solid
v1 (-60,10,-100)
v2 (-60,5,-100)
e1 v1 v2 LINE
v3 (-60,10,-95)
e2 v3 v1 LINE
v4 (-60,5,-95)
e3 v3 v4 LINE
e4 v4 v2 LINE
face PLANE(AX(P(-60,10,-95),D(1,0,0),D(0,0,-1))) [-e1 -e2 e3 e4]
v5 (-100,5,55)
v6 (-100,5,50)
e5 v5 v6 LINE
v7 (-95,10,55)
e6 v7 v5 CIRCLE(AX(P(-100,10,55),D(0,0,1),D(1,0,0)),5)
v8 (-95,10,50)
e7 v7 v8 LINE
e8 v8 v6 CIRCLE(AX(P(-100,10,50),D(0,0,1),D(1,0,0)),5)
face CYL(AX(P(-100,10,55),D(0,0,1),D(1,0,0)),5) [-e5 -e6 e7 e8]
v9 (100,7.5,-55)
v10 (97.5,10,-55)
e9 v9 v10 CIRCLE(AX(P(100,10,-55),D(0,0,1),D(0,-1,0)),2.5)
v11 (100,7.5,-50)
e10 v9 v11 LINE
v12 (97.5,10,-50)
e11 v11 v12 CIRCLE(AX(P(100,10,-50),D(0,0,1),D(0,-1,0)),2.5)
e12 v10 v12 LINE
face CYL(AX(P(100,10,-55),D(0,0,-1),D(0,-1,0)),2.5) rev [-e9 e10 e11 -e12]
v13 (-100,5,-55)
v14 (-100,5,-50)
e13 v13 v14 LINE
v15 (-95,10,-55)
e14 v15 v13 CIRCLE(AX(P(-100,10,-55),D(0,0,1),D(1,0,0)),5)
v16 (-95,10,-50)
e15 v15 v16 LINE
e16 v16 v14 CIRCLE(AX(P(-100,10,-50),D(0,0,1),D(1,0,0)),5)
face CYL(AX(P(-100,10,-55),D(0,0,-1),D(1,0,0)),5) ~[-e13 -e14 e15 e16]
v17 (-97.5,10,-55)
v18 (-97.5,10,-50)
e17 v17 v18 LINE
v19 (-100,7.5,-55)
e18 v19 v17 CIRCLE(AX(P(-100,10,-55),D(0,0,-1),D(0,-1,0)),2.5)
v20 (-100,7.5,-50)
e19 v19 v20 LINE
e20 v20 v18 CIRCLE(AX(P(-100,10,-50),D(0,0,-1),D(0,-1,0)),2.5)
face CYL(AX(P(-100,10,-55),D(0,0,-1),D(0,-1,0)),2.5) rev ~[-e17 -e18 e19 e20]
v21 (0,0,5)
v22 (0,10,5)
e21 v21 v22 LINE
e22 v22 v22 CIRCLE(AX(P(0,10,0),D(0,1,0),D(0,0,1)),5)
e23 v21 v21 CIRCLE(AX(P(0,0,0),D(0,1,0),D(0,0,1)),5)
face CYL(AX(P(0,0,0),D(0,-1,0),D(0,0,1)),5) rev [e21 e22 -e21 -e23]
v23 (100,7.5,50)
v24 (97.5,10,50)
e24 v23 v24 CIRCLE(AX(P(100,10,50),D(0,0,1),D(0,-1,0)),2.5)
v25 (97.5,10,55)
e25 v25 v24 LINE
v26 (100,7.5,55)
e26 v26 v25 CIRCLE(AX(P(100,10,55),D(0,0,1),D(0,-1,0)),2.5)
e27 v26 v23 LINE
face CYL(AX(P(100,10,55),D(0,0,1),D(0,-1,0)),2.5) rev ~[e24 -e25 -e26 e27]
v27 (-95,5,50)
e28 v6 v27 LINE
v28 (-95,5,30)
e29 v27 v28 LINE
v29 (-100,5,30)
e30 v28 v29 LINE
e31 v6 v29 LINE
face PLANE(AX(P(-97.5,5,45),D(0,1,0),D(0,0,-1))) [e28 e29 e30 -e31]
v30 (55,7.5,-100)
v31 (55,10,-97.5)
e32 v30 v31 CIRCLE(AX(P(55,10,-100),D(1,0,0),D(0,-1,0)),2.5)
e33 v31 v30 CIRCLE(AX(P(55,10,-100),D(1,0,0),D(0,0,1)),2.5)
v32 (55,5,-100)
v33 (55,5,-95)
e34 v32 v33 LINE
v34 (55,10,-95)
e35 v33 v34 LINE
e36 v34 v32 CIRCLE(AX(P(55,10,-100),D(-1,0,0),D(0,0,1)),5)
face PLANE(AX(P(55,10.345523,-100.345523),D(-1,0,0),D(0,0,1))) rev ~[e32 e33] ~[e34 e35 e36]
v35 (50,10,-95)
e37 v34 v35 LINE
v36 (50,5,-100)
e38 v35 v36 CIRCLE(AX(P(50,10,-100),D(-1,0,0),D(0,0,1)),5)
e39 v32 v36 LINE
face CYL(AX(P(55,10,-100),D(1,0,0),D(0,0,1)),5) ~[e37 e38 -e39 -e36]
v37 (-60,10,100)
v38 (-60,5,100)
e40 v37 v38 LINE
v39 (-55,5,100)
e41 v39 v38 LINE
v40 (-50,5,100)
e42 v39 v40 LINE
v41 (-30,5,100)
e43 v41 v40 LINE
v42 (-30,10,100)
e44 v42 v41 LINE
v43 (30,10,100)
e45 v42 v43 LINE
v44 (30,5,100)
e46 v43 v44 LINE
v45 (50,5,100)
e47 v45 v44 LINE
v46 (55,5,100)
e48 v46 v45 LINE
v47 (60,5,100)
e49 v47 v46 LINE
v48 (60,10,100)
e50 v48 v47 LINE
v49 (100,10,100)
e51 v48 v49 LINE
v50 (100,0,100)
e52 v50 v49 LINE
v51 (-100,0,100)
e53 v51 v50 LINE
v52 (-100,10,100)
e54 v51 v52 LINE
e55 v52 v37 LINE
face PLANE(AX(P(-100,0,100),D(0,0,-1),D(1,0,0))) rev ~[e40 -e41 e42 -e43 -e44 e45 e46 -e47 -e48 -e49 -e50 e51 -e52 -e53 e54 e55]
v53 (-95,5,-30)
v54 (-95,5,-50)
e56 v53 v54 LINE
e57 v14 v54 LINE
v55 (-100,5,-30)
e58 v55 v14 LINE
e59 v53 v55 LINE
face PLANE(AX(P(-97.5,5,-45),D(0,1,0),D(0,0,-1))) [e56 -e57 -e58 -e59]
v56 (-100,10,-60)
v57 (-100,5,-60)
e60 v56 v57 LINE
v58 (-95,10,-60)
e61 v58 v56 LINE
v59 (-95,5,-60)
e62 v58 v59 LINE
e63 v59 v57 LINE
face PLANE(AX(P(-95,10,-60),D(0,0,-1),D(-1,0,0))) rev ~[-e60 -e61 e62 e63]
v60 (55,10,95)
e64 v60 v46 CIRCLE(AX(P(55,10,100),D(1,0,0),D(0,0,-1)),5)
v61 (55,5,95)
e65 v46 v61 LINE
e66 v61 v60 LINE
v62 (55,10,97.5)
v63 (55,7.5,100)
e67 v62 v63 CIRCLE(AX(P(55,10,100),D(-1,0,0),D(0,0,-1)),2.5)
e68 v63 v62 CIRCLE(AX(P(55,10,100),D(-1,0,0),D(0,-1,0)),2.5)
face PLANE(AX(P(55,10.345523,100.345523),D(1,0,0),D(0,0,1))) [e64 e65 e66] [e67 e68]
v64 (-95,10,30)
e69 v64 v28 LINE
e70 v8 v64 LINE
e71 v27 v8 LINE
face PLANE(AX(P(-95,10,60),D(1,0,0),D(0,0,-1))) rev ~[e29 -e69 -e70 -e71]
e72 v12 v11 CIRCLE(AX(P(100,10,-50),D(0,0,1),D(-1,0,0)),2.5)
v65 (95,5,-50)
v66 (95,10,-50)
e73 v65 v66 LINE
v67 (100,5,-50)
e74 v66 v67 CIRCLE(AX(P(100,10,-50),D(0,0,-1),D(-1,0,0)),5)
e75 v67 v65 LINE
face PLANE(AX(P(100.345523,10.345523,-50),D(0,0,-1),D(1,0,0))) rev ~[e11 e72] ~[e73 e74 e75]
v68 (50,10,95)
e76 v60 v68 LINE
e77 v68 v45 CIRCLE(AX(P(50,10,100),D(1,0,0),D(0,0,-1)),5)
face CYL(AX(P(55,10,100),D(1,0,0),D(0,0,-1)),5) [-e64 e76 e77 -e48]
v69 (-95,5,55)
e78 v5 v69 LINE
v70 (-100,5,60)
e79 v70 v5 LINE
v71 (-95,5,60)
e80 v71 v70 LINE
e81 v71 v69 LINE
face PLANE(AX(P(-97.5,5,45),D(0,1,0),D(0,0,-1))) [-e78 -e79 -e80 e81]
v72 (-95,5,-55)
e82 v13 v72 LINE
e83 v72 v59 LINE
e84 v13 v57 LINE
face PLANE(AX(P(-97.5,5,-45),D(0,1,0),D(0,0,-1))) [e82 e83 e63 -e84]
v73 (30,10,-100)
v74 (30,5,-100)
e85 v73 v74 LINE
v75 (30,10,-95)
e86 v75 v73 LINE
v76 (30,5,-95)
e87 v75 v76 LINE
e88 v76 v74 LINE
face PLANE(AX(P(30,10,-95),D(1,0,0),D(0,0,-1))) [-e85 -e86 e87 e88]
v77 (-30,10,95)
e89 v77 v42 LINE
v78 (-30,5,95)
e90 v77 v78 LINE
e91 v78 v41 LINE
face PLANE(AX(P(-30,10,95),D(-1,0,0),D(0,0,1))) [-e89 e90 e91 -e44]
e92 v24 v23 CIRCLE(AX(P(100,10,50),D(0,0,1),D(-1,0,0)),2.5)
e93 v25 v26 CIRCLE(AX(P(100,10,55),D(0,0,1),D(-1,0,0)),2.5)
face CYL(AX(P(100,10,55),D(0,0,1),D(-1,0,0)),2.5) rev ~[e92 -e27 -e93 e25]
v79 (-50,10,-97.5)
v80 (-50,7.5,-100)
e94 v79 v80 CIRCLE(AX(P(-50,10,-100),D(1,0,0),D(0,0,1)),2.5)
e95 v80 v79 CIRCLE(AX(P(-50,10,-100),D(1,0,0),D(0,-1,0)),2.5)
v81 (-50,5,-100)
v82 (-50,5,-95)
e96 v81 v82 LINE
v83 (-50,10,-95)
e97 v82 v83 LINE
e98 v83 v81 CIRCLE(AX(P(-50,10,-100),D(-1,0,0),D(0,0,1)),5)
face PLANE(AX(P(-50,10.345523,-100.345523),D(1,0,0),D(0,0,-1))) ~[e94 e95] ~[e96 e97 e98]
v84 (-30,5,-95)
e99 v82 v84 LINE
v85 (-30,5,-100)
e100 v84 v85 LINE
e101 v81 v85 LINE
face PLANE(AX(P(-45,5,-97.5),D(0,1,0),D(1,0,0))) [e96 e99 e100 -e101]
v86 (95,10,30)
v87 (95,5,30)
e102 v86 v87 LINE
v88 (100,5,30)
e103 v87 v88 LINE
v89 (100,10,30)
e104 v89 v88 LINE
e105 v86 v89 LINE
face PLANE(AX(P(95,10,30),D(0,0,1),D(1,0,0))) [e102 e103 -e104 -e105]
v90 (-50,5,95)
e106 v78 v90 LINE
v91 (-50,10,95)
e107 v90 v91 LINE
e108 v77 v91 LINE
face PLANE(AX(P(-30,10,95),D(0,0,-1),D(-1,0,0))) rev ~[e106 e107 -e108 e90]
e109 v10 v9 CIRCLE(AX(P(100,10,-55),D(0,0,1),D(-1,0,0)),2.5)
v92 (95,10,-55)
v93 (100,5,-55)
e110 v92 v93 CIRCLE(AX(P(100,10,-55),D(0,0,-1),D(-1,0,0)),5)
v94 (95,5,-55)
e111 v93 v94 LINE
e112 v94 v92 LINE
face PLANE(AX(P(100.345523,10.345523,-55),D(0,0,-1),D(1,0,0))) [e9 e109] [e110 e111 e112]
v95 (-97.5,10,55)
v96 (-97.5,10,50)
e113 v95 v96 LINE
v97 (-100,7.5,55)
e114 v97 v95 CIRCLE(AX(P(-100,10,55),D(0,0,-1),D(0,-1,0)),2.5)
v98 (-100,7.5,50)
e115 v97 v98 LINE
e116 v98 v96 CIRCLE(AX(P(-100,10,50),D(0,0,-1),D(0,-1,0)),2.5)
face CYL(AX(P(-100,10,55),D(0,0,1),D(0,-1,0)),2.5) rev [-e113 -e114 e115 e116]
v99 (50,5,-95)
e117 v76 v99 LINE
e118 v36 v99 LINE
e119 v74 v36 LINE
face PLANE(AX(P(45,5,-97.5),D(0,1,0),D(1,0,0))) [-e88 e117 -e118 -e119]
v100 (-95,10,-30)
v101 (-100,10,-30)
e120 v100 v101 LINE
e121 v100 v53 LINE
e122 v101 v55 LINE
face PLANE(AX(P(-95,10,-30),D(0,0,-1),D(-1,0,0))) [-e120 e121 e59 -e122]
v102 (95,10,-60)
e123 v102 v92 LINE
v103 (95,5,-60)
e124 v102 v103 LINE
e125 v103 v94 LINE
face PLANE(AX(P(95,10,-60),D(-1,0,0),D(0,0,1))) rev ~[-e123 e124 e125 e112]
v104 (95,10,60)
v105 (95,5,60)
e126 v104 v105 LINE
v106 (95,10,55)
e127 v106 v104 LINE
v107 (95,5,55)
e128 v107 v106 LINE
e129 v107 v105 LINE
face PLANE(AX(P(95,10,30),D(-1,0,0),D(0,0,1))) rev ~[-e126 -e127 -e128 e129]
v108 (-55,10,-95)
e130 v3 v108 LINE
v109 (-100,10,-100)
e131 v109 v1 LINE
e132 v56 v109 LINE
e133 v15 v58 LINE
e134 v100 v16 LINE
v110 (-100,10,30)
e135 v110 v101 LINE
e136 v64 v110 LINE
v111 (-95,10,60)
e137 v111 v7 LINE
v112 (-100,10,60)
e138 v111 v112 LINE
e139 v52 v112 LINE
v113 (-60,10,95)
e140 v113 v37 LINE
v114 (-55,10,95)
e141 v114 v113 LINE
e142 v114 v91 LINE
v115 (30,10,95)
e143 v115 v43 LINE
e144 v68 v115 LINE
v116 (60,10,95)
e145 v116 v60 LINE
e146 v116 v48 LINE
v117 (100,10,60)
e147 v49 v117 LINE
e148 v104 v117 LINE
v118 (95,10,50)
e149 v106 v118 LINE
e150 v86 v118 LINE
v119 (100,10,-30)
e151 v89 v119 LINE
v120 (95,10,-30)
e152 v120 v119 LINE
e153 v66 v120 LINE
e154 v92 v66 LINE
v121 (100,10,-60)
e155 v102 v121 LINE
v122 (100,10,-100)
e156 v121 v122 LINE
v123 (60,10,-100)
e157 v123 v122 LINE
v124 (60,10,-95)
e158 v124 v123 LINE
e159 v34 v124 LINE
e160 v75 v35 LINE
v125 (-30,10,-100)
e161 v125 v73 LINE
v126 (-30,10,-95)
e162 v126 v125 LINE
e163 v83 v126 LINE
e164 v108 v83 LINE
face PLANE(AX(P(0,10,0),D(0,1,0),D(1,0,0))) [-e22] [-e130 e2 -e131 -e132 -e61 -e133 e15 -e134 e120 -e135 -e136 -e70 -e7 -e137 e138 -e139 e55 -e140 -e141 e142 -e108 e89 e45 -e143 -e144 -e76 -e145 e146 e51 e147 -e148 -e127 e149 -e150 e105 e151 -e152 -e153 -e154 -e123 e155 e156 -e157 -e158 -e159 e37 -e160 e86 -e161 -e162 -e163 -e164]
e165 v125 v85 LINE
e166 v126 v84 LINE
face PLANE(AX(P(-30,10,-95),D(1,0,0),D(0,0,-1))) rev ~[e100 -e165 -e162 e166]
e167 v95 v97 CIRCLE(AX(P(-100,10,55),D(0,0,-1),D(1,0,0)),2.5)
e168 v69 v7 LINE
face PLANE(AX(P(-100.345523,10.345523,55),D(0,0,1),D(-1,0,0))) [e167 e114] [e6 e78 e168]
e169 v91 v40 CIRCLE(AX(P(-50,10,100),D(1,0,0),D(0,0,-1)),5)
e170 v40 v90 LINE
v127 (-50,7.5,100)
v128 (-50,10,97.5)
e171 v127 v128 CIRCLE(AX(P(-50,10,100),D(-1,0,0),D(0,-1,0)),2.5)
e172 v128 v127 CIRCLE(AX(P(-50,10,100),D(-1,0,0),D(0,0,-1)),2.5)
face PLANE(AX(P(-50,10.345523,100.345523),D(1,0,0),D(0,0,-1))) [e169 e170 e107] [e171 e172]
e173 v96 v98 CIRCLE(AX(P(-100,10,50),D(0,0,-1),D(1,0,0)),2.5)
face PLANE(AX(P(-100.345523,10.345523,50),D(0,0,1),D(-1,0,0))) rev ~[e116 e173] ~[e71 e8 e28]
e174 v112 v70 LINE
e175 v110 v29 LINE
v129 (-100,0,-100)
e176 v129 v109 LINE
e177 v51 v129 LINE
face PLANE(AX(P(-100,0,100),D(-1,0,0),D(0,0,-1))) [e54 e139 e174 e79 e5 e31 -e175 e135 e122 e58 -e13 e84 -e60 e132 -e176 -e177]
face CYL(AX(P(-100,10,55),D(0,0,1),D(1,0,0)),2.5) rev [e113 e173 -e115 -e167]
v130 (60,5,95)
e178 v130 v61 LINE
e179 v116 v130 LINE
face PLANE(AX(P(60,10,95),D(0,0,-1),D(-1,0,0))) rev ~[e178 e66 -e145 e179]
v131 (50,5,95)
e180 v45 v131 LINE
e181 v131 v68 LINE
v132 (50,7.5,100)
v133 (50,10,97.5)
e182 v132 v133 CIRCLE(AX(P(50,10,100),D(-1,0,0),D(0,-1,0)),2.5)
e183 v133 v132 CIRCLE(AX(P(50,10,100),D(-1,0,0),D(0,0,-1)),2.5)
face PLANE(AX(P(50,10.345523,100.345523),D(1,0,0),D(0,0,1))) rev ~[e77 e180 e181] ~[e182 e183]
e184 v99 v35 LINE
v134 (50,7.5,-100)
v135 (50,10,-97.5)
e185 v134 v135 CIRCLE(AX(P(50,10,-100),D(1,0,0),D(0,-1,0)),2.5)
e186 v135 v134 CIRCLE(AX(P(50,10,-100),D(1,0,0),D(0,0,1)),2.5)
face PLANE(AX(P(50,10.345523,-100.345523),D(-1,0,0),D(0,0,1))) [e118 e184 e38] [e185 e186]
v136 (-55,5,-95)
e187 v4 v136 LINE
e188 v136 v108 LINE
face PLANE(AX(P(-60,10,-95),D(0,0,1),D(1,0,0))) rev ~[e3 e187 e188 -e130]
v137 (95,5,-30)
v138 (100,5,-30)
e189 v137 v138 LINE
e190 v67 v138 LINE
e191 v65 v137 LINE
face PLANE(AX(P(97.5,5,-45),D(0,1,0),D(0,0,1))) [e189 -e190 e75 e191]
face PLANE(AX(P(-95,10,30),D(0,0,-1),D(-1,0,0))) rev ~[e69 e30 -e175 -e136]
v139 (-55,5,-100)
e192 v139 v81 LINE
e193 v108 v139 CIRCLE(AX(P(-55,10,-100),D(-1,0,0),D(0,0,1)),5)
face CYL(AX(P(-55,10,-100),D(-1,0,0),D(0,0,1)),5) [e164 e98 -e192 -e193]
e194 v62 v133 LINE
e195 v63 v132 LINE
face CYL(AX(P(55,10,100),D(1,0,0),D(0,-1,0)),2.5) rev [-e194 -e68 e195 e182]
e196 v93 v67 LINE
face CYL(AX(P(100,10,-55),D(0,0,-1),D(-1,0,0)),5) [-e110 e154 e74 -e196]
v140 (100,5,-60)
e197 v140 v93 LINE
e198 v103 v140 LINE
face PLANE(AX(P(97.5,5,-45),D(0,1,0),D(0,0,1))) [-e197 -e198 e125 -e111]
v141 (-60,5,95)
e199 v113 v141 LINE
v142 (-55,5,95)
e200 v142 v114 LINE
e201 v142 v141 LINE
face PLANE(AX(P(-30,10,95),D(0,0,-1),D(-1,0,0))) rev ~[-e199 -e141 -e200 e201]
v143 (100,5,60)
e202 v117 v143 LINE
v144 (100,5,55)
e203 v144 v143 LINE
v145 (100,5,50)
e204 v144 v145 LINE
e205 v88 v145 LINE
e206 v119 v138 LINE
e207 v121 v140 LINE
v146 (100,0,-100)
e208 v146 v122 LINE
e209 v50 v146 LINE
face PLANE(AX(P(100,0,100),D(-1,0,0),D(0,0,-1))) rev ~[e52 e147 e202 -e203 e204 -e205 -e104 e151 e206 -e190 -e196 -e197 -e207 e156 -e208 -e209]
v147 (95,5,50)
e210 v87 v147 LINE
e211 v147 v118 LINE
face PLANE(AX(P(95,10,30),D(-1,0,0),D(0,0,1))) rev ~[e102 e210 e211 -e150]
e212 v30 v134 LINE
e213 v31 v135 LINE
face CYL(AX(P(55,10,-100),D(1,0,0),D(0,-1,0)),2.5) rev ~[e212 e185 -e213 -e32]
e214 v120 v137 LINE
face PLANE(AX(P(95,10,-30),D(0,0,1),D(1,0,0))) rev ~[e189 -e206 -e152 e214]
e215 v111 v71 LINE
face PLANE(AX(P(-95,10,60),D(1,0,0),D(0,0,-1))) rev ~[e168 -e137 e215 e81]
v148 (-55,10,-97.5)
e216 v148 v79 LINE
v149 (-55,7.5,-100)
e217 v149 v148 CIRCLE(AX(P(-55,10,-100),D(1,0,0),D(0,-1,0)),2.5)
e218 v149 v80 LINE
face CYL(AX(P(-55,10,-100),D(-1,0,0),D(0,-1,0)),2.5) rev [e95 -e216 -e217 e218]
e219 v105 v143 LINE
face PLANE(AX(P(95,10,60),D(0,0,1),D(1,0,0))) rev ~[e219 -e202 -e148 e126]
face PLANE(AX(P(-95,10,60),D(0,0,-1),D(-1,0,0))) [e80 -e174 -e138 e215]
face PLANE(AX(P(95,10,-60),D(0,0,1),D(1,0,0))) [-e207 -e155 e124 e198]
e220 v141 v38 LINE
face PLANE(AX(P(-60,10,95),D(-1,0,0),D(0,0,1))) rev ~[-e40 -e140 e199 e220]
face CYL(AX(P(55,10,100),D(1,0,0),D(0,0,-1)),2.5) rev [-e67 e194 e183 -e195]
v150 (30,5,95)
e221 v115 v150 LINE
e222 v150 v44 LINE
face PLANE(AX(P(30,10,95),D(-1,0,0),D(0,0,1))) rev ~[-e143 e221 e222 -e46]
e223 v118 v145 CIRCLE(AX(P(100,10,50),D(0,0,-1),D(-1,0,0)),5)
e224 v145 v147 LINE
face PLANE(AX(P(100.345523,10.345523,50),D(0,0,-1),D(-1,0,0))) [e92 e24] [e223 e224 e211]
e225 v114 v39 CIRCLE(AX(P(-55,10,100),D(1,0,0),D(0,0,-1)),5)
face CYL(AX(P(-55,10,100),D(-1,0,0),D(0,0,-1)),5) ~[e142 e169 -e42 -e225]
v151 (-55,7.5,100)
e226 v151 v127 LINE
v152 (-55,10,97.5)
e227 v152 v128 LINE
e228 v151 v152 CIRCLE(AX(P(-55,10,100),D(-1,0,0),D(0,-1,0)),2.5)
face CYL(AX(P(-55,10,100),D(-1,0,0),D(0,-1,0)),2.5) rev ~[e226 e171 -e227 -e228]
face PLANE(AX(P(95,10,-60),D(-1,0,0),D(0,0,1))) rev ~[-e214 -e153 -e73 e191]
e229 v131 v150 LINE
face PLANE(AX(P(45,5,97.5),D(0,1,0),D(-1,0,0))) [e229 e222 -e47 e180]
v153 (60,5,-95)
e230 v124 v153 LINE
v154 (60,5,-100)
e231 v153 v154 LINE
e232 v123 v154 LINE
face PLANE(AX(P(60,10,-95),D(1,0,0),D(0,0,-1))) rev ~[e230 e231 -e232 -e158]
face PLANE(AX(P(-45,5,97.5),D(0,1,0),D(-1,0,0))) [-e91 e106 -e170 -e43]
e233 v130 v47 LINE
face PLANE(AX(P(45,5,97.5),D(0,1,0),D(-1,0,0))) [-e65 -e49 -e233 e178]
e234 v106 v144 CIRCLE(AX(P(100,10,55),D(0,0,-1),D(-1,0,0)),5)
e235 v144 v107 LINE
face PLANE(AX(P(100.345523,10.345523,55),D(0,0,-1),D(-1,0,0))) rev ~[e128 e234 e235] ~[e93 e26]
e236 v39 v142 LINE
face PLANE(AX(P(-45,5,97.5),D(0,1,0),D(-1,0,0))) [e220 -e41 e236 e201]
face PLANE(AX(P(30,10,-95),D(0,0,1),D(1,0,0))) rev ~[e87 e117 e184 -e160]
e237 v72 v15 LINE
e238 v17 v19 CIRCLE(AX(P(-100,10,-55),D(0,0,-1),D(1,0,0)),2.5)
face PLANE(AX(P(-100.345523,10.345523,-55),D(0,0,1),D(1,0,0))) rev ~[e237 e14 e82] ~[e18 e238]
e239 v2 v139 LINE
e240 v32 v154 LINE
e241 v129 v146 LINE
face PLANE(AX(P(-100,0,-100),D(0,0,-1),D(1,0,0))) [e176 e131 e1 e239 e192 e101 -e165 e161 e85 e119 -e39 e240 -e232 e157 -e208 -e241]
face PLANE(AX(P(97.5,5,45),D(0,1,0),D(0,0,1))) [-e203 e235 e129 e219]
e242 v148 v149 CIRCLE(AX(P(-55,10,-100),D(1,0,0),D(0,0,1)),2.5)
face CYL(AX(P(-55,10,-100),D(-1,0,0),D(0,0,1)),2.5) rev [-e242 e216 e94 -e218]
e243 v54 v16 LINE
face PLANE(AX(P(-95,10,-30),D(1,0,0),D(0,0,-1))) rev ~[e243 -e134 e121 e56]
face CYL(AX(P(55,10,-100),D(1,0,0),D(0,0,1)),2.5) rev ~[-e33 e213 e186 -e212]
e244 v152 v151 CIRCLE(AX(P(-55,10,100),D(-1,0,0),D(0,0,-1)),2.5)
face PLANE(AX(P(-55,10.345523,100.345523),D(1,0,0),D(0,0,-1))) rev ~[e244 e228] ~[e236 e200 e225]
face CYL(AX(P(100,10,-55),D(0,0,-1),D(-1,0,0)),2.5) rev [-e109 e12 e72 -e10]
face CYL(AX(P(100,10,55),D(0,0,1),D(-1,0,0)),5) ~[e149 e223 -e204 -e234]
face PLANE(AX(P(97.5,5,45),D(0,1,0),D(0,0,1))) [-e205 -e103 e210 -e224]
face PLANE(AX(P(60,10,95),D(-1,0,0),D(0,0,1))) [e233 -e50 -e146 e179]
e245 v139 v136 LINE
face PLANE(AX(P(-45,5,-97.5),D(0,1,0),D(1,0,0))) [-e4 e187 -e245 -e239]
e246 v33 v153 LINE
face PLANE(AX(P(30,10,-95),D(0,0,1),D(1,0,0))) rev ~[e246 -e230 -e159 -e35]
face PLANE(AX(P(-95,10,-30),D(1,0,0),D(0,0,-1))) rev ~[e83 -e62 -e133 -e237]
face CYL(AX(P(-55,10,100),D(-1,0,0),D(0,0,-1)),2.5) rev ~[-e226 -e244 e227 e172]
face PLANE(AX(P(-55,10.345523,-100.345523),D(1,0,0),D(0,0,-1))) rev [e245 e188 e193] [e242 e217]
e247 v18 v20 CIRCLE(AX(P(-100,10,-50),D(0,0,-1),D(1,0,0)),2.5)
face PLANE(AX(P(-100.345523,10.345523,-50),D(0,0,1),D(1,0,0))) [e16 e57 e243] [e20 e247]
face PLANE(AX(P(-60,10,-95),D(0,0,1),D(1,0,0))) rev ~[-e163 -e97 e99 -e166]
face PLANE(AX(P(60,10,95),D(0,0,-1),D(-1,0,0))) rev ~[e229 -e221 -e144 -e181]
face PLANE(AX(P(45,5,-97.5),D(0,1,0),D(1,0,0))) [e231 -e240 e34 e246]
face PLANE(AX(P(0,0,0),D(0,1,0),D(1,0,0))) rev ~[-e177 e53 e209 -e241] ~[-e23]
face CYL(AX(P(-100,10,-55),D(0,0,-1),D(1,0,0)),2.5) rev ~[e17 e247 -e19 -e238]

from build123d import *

# Parameters (mm, degrees)
SKETCH1_W                = 200
SKETCH1_H                = 200
SKETCH1_R                = 5
BOSS_EXTRUDE1_DEPTH      = 10
SKETCH2_W                = 30
SKETCH2_H                = 5
CUT_EXTRUDE1_DEPTH       = 5
BOSS_EXTRUDE3_START      = 5
BOSS_EXTRUDE3_DEPTH      = 5
CIRPATTERN1_COUNT        = 4
CIRPATTERN1_START        = 5
CIRPATTERN1_COPY_1_DEPTH = 5
CIRPATTERN1_COPY_2_DEPTH = 5
CIRPATTERN1_COPY_3_DEPTH = 5


with BuildPart() as part:
    # Sketch1 → Boss-Extrude1 (new body)
    with BuildSketch(Plane(origin=(0, 0, 0), x_dir=(1, 0, 0), z_dir=(0, 1, 0))):
        Rectangle(SKETCH1_W, SKETCH1_H)
        with Locations(Location((0, 0, 0), (0, 0, 270))):
            Circle(SKETCH1_R, mode=Mode.SUBTRACT)
    extrude(amount=BOSS_EXTRUDE1_DEPTH)

    # Sketch2 → Cut-Extrude1 (cut)
    with BuildSketch(Plane(origin=(0, 10, 0), x_dir=(1, 0, 0), z_dir=(0, 1, 0))):
        with Locations((45, 97.5)):
            Rectangle(SKETCH2_W, SKETCH2_H)
        with Locations((-45, 97.5)):
            Rectangle(SKETCH2_W, SKETCH2_H)
    cut_extrude1 = extrude(amount=-CUT_EXTRUDE1_DEPTH, mode=Mode.SUBTRACT)

    # Sketch3 → Boss-Extrude3 (add)
    with BuildSketch(Plane.ZY.offset(-60).offset(BOSS_EXTRUDE3_START)):
        with BuildLine():
            Line((-97.5, 10), (-95, 10))
            ThreePointArc((-95, 10), (-103.535533906, 13.535533906), (-100, 5))
            Line((-100, 5), (-100, 7.5))
            ThreePointArc((-100, 7.5), (-101.767766953, 11.767766953), (-97.5, 10))
        make_face()
        with BuildLine():
            ThreePointArc((-100, 5), (-96.464466094, 6.464466094), (-95, 10))
            Line((-95, 10), (-97.5, 10))
            ThreePointArc((-97.5, 10), (-98.232233047, 8.232233047), (-100, 7.5))
            Line((-100, 7.5), (-100, 5))
        make_face()
        with BuildLine():
            Line((-95, 5), (-95, 10))
            ThreePointArc((-95, 10), (-96.464466094, 6.464466094), (-100, 5))
            Line((-100, 5), (-95, 5))
        make_face()
    boss_extrude3 = extrude(amount=BOSS_EXTRUDE3_DEPTH)

    # Mirror1: Boss-Extrude3 across plane
    add(boss_extrude3.mirror(Plane(origin=(0, 0, 0), x_dir=(0, 0, 1), z_dir=(1, 0, 0))))

    # CirPattern1: Cut-Extrude1, Boss-Extrude3 ×4 about axis
    cirpattern1_axis = Axis((0, 0, 0), (0, 1, 0))
    add([cut_extrude1.rotate(cirpattern1_axis, i * 360 / CIRPATTERN1_COUNT) for i in range(1, CIRPATTERN1_COUNT)], mode=Mode.SUBTRACT)
    add([boss_extrude3.rotate(cirpattern1_axis, i * 360 / CIRPATTERN1_COUNT) for i in range(1, CIRPATTERN1_COUNT)])

    # CirPattern1 copy 1 sketch → CirPattern1 copy 1 (add)
    with BuildSketch(Plane(origin=(0, 0, 60), x_dir=(1, 0, 0), z_dir=(0, 0, -1)).offset(CIRPATTERN1_START)):
        with BuildLine():
            Line((-97.5, -10), (-95, -10))
            ThreePointArc((-95, -10), (-103.535533906, -13.535533906), (-100, -5))
            Line((-100, -5), (-100, -7.5))
            ThreePointArc((-100, -7.5), (-101.767766953, -11.767766953), (-97.5, -10))
        make_face()
        with BuildLine():
            ThreePointArc((-100, -5), (-96.464466094, -6.464466094), (-95, -10))
            Line((-95, -10), (-97.5, -10))
            ThreePointArc((-97.5, -10), (-98.232233047, -8.232233047), (-100, -7.5))
            Line((-100, -7.5), (-100, -5))
        make_face()
        with BuildLine():
            Line((-95, -5), (-95, -10))
            ThreePointArc((-95, -10), (-96.464466094, -6.464466094), (-100, -5))
            Line((-100, -5), (-95, -5))
        make_face()
    extrude(amount=CIRPATTERN1_COPY_1_DEPTH)

    # CirPattern1 copy 2 sketch → CirPattern1 copy 2 (add)
    with BuildSketch(Plane(origin=(60, 0, 0), x_dir=(0, 0, -1), z_dir=(-1, 0, 0)).offset(CIRPATTERN1_START)):
        with BuildLine():
            Line((-97.5, -10), (-95, -10))
            ThreePointArc((-95, -10), (-103.535533906, -13.535533906), (-100, -5))
            Line((-100, -5), (-100, -7.5))
            ThreePointArc((-100, -7.5), (-101.767766953, -11.767766953), (-97.5, -10))
        make_face()
        with BuildLine():
            ThreePointArc((-100, -5), (-96.464466094, -6.464466094), (-95, -10))
            Line((-95, -10), (-97.5, -10))
            ThreePointArc((-97.5, -10), (-98.232233047, -8.232233047), (-100, -7.5))
            Line((-100, -7.5), (-100, -5))
        make_face()
        with BuildLine():
            Line((-95, -5), (-95, -10))
            ThreePointArc((-95, -10), (-96.464466094, -6.464466094), (-100, -5))
            Line((-100, -5), (-95, -5))
        make_face()
    extrude(amount=CIRPATTERN1_COPY_2_DEPTH)

    # CirPattern1 copy 3 sketch → CirPattern1 copy 3 (add)
    with BuildSketch(Plane(origin=(0, 0, -60), x_dir=(-1, 0, 0), z_dir=(0, 0, 1)).offset(CIRPATTERN1_START)):
        with BuildLine():
            Line((-97.5, -10), (-95, -10))
            ThreePointArc((-95, -10), (-103.535533906, -13.535533906), (-100, -5))
            Line((-100, -5), (-100, -7.5))
            ThreePointArc((-100, -7.5), (-101.767766953, -11.767766953), (-97.5, -10))
        make_face()
        with BuildLine():
            ThreePointArc((-100, -5), (-96.464466094, -6.464466094), (-95, -10))
            Line((-95, -10), (-97.5, -10))
            ThreePointArc((-97.5, -10), (-98.232233047, -8.232233047), (-100, -7.5))
            Line((-100, -7.5), (-100, -5))
        make_face()
        with BuildLine():
            Line((-95, -5), (-95, -10))
            ThreePointArc((-95, -10), (-96.464466094, -6.464466094), (-100, -5))
            Line((-100, -5), (-95, -5))
        make_face()
    extrude(amount=CIRPATTERN1_COPY_3_DEPTH)


solid = part.part
